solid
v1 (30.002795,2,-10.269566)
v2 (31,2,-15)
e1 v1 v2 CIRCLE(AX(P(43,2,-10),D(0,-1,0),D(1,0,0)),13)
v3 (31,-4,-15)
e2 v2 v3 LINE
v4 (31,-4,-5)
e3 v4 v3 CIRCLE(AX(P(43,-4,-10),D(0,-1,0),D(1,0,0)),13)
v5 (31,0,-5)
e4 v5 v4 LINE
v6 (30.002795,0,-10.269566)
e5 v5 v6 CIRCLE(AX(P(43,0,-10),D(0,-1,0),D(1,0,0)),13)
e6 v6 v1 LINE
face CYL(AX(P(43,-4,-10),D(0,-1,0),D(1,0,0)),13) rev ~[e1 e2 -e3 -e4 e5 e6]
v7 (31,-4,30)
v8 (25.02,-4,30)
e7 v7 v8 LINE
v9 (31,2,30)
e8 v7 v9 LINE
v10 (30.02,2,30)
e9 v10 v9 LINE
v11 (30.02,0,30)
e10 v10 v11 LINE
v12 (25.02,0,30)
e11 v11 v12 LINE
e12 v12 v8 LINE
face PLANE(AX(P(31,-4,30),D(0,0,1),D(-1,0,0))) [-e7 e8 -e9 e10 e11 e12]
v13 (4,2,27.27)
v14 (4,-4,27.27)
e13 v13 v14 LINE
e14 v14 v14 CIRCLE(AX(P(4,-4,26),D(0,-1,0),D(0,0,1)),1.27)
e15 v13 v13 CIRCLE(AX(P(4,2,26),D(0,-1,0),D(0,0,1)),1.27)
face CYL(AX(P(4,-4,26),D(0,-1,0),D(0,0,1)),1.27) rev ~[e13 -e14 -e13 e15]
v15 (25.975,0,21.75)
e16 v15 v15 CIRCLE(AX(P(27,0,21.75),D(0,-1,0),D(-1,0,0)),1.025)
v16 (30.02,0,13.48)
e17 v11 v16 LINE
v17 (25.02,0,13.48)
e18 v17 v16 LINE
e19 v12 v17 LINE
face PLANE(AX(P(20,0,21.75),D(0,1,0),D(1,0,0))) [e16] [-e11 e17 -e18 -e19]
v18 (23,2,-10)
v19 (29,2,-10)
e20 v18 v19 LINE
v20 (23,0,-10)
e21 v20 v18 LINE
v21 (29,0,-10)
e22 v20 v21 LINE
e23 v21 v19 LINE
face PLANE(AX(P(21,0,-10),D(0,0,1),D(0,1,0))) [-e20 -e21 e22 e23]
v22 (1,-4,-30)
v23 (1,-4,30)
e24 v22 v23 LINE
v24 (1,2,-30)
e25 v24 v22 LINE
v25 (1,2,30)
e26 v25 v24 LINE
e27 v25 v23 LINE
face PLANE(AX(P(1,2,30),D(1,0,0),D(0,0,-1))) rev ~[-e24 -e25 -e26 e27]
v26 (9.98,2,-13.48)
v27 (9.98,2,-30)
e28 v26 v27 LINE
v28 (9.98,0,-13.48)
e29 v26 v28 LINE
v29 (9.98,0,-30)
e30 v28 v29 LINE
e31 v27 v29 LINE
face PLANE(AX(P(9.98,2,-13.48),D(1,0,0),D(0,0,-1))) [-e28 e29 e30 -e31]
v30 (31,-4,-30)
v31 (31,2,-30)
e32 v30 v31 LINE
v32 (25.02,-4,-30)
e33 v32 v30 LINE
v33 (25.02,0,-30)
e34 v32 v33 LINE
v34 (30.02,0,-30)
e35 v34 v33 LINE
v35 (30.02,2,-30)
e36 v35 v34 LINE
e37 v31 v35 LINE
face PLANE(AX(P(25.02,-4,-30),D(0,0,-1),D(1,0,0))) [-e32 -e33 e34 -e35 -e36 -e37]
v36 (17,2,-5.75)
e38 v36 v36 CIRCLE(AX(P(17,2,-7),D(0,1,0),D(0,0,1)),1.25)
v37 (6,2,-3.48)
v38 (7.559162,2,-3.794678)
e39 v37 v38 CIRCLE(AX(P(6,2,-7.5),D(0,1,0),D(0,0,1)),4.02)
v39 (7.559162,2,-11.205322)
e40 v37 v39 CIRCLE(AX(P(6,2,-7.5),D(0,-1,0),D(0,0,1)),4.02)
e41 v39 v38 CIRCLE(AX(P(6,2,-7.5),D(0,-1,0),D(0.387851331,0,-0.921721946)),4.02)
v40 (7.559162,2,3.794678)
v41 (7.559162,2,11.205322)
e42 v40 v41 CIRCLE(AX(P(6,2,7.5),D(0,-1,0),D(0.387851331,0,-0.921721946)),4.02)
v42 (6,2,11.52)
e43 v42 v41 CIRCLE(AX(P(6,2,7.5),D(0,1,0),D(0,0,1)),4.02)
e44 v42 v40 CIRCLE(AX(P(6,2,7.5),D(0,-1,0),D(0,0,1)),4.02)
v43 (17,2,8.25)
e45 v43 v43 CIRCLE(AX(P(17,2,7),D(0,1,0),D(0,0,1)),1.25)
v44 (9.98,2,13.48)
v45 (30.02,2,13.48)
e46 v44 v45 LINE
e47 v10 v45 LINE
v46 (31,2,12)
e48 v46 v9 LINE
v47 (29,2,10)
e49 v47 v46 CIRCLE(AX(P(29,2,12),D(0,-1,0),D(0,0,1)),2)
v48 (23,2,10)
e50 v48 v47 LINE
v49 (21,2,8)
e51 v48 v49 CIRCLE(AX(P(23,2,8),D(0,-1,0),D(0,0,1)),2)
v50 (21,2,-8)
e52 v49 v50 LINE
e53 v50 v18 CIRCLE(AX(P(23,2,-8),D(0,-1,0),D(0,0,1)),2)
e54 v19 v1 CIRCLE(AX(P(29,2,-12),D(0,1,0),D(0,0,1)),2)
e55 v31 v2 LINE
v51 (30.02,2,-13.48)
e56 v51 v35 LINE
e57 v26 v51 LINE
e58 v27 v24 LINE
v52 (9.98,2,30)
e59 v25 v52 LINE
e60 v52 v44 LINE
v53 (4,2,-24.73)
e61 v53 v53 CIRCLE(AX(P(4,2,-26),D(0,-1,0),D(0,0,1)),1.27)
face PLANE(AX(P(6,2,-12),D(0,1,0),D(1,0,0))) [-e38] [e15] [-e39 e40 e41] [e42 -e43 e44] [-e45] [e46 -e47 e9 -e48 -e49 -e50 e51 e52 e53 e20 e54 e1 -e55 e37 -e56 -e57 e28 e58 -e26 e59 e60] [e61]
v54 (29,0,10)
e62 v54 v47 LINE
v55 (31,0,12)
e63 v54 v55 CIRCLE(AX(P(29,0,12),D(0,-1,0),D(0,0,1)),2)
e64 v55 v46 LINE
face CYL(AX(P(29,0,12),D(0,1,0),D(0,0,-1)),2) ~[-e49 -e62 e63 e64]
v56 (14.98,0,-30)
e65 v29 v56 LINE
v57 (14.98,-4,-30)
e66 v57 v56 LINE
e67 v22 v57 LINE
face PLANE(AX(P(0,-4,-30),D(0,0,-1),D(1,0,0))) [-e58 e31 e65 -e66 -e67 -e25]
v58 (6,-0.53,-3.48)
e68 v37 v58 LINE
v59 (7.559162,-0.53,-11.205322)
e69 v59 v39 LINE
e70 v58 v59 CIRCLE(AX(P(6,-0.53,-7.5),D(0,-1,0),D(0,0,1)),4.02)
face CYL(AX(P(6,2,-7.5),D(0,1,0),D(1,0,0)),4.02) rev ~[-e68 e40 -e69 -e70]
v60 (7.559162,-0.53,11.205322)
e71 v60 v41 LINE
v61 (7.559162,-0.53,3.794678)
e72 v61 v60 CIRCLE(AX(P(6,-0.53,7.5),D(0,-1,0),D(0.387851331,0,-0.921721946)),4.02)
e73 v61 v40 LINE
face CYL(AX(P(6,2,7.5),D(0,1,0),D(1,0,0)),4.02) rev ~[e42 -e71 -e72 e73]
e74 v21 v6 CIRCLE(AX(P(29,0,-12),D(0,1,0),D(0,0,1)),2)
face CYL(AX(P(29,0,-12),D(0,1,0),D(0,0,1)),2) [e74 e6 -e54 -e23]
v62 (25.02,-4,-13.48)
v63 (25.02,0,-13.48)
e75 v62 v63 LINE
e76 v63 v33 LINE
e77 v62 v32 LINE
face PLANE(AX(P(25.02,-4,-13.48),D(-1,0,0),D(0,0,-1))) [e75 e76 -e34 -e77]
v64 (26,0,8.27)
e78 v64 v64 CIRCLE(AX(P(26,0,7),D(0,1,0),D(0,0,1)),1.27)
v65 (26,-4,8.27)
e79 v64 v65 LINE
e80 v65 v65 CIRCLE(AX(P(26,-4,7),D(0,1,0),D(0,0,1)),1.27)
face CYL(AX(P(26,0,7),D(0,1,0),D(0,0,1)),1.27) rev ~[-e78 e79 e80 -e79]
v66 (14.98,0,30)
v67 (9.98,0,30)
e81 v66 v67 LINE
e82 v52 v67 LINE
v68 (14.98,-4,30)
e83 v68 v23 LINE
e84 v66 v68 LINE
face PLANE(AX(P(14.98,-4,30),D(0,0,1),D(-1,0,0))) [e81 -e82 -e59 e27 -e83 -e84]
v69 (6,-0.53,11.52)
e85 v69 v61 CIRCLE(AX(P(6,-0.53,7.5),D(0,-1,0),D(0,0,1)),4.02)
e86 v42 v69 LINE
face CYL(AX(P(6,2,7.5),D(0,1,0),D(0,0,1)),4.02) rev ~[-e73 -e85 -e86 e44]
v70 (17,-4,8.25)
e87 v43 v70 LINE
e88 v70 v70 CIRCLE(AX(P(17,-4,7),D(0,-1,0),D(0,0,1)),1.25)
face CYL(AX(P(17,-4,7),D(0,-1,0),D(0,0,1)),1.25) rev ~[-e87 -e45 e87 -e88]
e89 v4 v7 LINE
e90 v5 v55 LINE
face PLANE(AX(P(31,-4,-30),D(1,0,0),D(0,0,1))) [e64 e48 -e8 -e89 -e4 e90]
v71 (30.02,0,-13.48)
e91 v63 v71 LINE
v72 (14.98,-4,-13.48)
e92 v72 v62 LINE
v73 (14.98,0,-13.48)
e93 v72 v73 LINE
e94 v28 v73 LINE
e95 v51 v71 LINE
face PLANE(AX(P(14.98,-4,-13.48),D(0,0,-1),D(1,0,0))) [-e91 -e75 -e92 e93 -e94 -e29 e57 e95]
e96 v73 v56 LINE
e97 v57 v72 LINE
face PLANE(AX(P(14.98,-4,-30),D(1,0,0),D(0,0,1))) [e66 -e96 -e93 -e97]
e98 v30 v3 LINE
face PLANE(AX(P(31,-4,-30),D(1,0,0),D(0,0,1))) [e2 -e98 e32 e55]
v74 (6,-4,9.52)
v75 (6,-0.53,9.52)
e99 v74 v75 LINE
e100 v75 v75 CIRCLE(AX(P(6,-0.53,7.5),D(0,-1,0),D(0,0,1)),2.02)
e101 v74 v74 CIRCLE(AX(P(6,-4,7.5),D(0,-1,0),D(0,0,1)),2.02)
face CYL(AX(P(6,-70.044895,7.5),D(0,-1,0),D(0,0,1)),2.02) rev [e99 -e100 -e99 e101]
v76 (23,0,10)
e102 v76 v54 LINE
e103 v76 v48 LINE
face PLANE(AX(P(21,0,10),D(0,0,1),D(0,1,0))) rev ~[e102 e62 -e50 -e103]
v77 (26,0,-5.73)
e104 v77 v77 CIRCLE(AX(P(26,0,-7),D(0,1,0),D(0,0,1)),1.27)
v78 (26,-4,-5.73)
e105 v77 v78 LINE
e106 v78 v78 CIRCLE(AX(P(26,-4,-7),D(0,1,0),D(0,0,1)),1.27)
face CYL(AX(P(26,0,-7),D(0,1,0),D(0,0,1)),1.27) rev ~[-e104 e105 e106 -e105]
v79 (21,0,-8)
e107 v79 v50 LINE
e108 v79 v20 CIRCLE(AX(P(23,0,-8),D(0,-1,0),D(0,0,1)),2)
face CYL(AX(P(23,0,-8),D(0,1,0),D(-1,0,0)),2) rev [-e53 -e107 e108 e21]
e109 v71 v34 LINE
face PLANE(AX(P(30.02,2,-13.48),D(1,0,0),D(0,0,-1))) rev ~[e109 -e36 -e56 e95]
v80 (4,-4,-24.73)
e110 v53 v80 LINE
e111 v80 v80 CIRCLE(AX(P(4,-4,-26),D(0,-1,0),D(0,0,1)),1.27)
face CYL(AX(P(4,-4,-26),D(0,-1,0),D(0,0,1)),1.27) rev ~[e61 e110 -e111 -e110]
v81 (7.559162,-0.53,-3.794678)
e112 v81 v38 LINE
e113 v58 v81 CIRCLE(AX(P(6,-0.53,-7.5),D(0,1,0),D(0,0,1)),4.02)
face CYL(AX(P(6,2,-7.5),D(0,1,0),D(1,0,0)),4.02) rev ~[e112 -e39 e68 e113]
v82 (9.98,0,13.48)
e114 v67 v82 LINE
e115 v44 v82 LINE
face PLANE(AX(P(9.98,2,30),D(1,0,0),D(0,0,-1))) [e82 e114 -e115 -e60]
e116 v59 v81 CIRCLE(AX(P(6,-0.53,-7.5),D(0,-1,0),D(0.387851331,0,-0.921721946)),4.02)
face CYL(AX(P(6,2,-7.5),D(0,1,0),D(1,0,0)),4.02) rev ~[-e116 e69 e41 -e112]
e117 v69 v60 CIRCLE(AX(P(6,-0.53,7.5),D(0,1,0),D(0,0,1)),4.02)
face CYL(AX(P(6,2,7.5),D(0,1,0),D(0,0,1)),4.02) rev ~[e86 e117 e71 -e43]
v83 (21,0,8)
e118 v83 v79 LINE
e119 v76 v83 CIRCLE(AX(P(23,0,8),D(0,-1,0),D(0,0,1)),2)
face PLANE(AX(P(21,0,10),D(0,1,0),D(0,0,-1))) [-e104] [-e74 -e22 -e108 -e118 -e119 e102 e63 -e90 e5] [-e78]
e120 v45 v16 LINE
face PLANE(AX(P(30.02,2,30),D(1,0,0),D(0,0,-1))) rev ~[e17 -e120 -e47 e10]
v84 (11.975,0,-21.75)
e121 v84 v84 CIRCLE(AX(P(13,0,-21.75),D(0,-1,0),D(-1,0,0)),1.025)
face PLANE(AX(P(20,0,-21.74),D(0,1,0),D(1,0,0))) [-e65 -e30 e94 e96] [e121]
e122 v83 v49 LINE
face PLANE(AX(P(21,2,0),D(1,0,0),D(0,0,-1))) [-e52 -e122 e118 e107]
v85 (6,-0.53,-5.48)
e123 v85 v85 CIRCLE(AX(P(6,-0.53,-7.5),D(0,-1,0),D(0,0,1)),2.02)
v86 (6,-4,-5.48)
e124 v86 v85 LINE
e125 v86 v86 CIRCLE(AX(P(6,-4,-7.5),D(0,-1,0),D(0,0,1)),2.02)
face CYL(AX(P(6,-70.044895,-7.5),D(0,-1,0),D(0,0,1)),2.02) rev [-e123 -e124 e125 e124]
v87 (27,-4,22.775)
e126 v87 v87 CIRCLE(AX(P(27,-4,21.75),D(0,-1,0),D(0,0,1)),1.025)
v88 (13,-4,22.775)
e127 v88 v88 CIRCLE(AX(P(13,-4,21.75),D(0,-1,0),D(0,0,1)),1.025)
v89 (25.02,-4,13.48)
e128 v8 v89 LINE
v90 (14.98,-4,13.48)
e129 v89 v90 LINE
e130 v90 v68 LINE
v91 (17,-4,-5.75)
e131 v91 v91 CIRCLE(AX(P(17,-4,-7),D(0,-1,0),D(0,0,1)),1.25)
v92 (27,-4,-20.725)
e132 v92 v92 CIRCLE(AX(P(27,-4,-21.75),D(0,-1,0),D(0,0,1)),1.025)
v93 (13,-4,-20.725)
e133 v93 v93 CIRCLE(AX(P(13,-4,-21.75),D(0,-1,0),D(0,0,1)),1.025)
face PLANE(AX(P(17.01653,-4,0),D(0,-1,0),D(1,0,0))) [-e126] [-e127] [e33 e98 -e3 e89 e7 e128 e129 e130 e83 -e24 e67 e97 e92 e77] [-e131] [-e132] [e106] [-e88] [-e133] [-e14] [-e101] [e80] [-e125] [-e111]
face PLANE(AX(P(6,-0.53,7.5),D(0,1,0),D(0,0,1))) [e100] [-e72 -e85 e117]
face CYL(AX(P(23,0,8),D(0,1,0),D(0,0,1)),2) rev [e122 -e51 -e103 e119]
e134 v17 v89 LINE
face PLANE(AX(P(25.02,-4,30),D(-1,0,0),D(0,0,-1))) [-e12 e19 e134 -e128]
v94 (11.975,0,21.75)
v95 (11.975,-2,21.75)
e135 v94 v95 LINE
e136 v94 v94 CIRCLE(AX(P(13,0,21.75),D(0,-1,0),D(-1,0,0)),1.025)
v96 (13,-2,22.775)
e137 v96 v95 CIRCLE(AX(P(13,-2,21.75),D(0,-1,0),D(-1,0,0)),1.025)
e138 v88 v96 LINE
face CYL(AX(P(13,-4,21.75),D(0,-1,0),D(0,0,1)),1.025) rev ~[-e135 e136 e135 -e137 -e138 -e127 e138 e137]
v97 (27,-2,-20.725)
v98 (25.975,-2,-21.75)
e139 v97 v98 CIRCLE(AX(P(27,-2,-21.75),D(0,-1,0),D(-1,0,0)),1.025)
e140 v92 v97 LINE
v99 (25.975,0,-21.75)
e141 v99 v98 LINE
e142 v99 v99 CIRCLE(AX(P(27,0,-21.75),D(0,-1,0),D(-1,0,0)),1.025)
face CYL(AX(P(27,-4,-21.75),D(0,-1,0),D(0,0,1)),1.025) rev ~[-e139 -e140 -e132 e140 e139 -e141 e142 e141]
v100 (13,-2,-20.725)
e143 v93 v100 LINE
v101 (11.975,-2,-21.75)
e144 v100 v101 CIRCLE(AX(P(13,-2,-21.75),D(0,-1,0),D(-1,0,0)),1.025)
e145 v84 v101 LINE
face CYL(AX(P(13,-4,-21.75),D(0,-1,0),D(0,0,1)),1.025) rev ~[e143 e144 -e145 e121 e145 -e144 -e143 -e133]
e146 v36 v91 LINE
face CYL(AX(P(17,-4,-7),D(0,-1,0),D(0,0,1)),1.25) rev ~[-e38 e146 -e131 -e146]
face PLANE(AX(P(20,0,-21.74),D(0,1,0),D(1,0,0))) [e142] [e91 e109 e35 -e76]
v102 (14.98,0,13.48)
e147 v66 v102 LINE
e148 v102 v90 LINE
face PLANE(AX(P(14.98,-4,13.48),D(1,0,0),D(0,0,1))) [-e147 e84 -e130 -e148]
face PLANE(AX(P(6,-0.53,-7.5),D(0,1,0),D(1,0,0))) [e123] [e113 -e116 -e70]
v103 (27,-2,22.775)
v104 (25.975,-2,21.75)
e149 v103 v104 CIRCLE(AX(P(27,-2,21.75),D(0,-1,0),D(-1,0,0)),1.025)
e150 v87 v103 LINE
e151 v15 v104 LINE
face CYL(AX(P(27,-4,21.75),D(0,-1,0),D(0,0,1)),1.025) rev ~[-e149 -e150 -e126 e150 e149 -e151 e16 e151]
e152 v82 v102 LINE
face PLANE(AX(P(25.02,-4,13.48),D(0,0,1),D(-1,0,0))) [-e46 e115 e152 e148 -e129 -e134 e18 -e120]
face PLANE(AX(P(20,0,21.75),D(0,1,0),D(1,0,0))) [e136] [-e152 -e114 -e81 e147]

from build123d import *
from build123d.topology import SkipClean

# Parameters (mm, degrees)
EXTRUDE_1_DEPTH           = 2
EXTRUDE_2_DEPTH           = 3
SKETCH_3_W                = 16
SKETCH_3_H                = 60
EXTRUDE_3_DEPTH           = 3
CUT_EXTRUDE_1_DEPTH       = 1
SKETCH_4_W                = 10
SKETCH_4_H                = 16.5
CUT_EXTRUDE_2_DEPTH       = 69.543781629
SKETCH_6_W                = 20
SKETCH_6_H                = 16.5
CUT_EXTRUDE_4_DEPTH       = 2
SKETCH_7_R                = 1
SKETCH_7_R_2              = 4
CUT_EXTRUDE_5_DEPTH       = 3.5
SKETCH_10_R               = 4
EXTRUDE_5_DEPTH           = 2
SKETCH_11_R               = 3
CUT_EXTRUDE_6_DEPTH       = 2.5
SKETCH_12_R               = 1.75
CUT_EXTRUDE_7_DEPTH       = 2.5
SKETCH_14_R               = 1.5
CUT_EXTRUDE_8_DEPTH       = 69.543781629
SKETCH_15_R               = 1.25
CUT_EXTRUDE_9_DEPTH       = 10
SKETCH_16_R               = 1.25
CUT_EXTRUDE_10_DEPTH      = 10
SKETCH_18_W               = 10.5
SKETCH_18_H               = 30
SKETCH_18_R               = 1.5
EXTRUDE_6_DEPTH           = 2
SKETCH_19_R               = 1.75
CUT_EXTRUDE_11_DEPTH      = 5
SKETCH_20_R               = 0.9
CUT_EXTRUDE_12_DEPTH      = 69.609401688
SKETCH_22_R               = 1.75
CUT_EXTRUDE_13_DEPTH      = 5
SKETCH_23_R               = 0.9
CUT_EXTRUDE_14_DEPTH      = 69.609401688
FILLET_1_R                = 2
FILLET_2_R                = 2
EXTRUDE_7_DEPTH           = 4
SKETCH_25_R               = 1.25
CUT_EXTRUDE_15_DEPTH      = 10
SKETCH_26_W               = 20.04
SKETCH_26_H               = 16.52
CUT_EXTRUDE_16_DEPTH      = 2
SKETCH_27_W               = 10.04
SKETCH_27_H               = 16.52
CUT_EXTRUDE_17_DEPTH      = 2
CUT_EXTRUDE_18_DEPTH      = 69.689518851
CUT_EXTRUDE_18_DEPTH_BACK = 69.689518851
SKETCH_28_R               = 1.02
SKETCH_28_R_2             = 0.92
SKETCH_28_R_3             = 1.27
SKETCH_30_R               = 1.575129029
SKETCH_30_R_2             = 1.931102163
SKETCH_30_R_3             = 1.716101448
SKETCH_30_R_4             = 1.816571349
EXTRUDE_8_DEPTH           = 2
HOLE_WIZARD_M2_5_1_D      = 2.05
SKETCH_33_R               = 3.02
CUT_EXTRUDE_19_DEPTH      = 2.53
EXTRUDE_START             = 3.5
SKETCH_35_R               = 1.5
EXTRUDE_9_DEPTH           = 3.5
SKETCH_36_R               = 4.02
CUT_EXTRUDE_21_DEPTH      = 2.53
EXTRUDE_START_2           = 0.47
SKETCH_37_R               = 1.75
SKETCH_37_R_2             = 0.92
EXTRUDE_10_DEPTH          = 0.47
CUT_EXTRUDE_22_DEPTH      = 69.514895461
CUT_EXTRUDE_22_DEPTH_BACK = 69.514895461
SKETCH_38_R               = 2.02
CUT_EXTRUDE_23_DEPTH      = 69.543781629
CUT_EXTRUDE_23_DEPTH_BACK = 69.543781629
SKETCH_39_W               = 32.485674915
SKETCH_39_H               = 61.831136529
CUT_EXTRUDE_24_DEPTH      = 44.324358045
CUT_EXTRUDE_24_DEPTH_BACK = 10
SKETCH_40_W               = 20
SKETCH_40_H               = 4
EXTRUDE_START_3           = 2
SKETCH_41_R               = 1.27
SKETCH_41_R_2             = 1.025
SKETCH_41_R_3             = 1.25
EXTRUDE_11_DEPTH          = 2
FILLET_4_R                = 2
SKETCH_42_R               = 1.27
CUT_EXTRUDE_25_DEPTH      = 10
SKETCH_43_W               = 1
SKETCH_43_H               = 60
CUT_EXTRUDE_26_DEPTH      = 10
SKETCH_44_R               = 13
CUT_EXTRUDE_27_DEPTH      = 10
EXTRUDE_START_4           = 4.53
SKETCH_45_R               = 1.75
EXTRUDE_12_DEPTH          = 6
SKETCH_46_R               = 4.02
CUT_EXTRUDE_28_DEPTH      = 2.53


with BuildPart() as part:
    # 草图1 → 凸台-拉伸1 (new body)
    with BuildSketch(Plane(origin=(0, 0, 0), x_dir=(1, 0, 0), z_dir=(0, 1, 0))):
        with BuildLine():
            Line((43, 1.5), (58.456841673, 3.534931811))
            ThreePointArc((58.456841673, 3.534931811), (61.401458892, 6.180320766), (59.995303837, 9.880534443))
            Line((59.995303837, 9.880534443), (31, 30))
            Line((31, 30), (10, 30))
            Line((10, 30), (0, 15))
            Line((0, 15), (0, -15))
            Line((0, -15), (10, -30))
            Line((10, -30), (31, -30))
            Line((31, -30), (59.995303837, -9.880534443))
            ThreePointArc((59.995303837, -9.880534443), (61.401458892, -6.180320766), (58.456841673, -3.534931811))
            Line((58.456841673, -3.534931811), (43, -1.5))
            Line((43, -1.5), (40, -1.5))
            Line((40, -1.5), (40, 1.5))
            Line((40, 1.5), (43, 1.5))
        make_face()
    extrude(amount=EXTRUDE_1_DEPTH)

    # 草图2 → 凸台-拉伸2 (add)
    with BuildSketch(Plane.XZ):
        Polygon((15, -30), (15, 30), (10, 30), (0, 15), (0, -15), (10, -30), align=None)
    extrude(amount=EXTRUDE_2_DEPTH)

    # 草图3 → 凸台-拉伸3 (add)
    with BuildSketch(Plane.XZ):
        with Locations((23, 0)):
            Rectangle(SKETCH_3_W, SKETCH_3_H)
    extrude(amount=EXTRUDE_3_DEPTH)

    # 草图5 → 切除-拉伸1 (cut)
    with BuildSketch(Plane.XZ.offset(3)):
        Polygon((10, -30), (31, -30), (31, 30), (10, 30), (0, 15), (0, -15), align=None)
    extrude(amount=-CUT_EXTRUDE_1_DEPTH, mode=Mode.SUBTRACT)

    # 草图4 → 切除-拉伸2 (cut, through all)
    with BuildSketch(Plane(origin=(0, 2, 0), x_dir=(1, 0, 0), z_dir=(0, 1, 0))):
        with Locations((20, -21.75)):
            Rectangle(SKETCH_4_W, SKETCH_4_H)
        with Locations((20, 21.75)):
            Rectangle(SKETCH_4_W, SKETCH_4_H)
    extrude(amount=-CUT_EXTRUDE_2_DEPTH, mode=Mode.SUBTRACT)

    # 草图6 → 切除-拉伸4 (cut)
    with BuildSketch(Plane(origin=(0, 2, 0), x_dir=(1, 0, 0), z_dir=(0, 1, 0))):
        with Locations((20, 21.75)):
            Rectangle(SKETCH_6_W, SKETCH_6_H)
        with Locations((20, -21.75)):
            Rectangle(SKETCH_6_W, SKETCH_6_H)
    extrude(amount=-CUT_EXTRUDE_4_DEPTH, mode=Mode.SUBTRACT)

    # 草图7 → 切除-拉伸5 (cut)
    with BuildSketch(Plane(origin=(0, 2, 0), x_dir=(1, 0, 0), z_dir=(0, 1, 0))):
        with Locations(Location((58, 7.004988826, 0), (0, 0, 270))):
            Circle(SKETCH_7_R)
        with Locations(Location((58, -7.004988826, 0), (0, 0, 270))):
            Circle(SKETCH_7_R)
        with Locations(Location((43, -6, 0), (0, 0, 270))):
            Circle(SKETCH_7_R)
        with Locations(Location((43, 6, 0), (0, 0, 270))):
            Circle(SKETCH_7_R)
        with Locations(Location((6, 7.5, 0), (0, 0, 270))):
            Circle(SKETCH_7_R_2)
        with Locations(Location((6, -7.5, 0), (0, 0, 270))):
            Circle(SKETCH_7_R_2)
    extrude(amount=-CUT_EXTRUDE_5_DEPTH, mode=Mode.SUBTRACT)

    # 草图10 → 凸台-拉伸5 (add)
    with BuildSketch(Plane.XZ):
        with Locations(Location((43, 6, 0), (0, 0, 270))):
            Circle(SKETCH_10_R)
    extrude(amount=EXTRUDE_5_DEPTH)

    # 草图11 → 切除-拉伸6 (cut)
    with BuildSketch(Plane(origin=(0, 2, 0), x_dir=(1, 0, 0), z_dir=(0, 1, 0))):
        with Locations(Location((43, -6, 0), (0, 0, 270))):
            Circle(SKETCH_11_R)
    extrude(amount=-CUT_EXTRUDE_6_DEPTH, mode=Mode.SUBTRACT)

    # 草图12 → 切除-拉伸7 (cut)
    with BuildSketch(Plane(origin=(0, -0.5, 0), x_dir=(1, 0, 0), z_dir=(0, 1, 0))):
        with Locations(Location((43, -6, 0), (0, 0, 270))):
            Circle(SKETCH_12_R)
    extrude(amount=-CUT_EXTRUDE_7_DEPTH, mode=Mode.SUBTRACT)

    # 草图14 → 切除-拉伸8 (cut, through all)
    with BuildSketch(Plane(origin=(0, 2, 0), x_dir=(1, 0, 0), z_dir=(0, 1, 0))):
        with Locations(Location((6, 7.5, 0), (0, 0, 270))):
            Circle(SKETCH_14_R)
        with Locations(Location((6, -7.5, 0), (0, 0, 270))):
            Circle(SKETCH_14_R)
    extrude(amount=-CUT_EXTRUDE_8_DEPTH, mode=Mode.SUBTRACT)

    # 草图15 → 切除-拉伸9 (cut)
    with BuildSketch(Plane(origin=(0, 0, 0), x_dir=(1, 0, 0), z_dir=(0, 1, 0))):
        with Locations(Location((13, 21.75, 0), (0, 0, 270))):
            Circle(SKETCH_15_R)
        with Locations(Location((27, 21.75, 0), (0, 0, 270))):
            Circle(SKETCH_15_R)
        with Locations(Location((27, -21.75, 0), (0, 0, 270))):
            Circle(SKETCH_15_R)
        with Locations(Location((13, -21.75, 0), (0, 0, 270))):
            Circle(SKETCH_15_R)
    extrude(amount=-CUT_EXTRUDE_9_DEPTH, mode=Mode.SUBTRACT)

    # 草图16 → 切除-拉伸10 (cut)
    with BuildSketch(Plane(origin=(0, 2, 0), x_dir=(1, 0, 0), z_dir=(0, 1, 0))):
        with Locations(Location((17, -7, 0), (0, 0, 270))):
            Circle(SKETCH_16_R)
        with Locations(Location((17, 7, 0), (0, 0, 270))):
            Circle(SKETCH_16_R)
        with Locations(Location((37, 16, 0), (0, 0, 270))):
            Circle(SKETCH_16_R)
        with Locations(Location((37, -16, 0), (0, 0, 270))):
            Circle(SKETCH_16_R)
    extrude(amount=-CUT_EXTRUDE_10_DEPTH, mode=Mode.SUBTRACT)

    # 草图18 → 凸台-拉伸6 (add)
    with BuildSketch(Plane.XZ.offset(2)):
        with Locations((5.25, 0)):
            Rectangle(SKETCH_18_W, SKETCH_18_H)
        with Locations(Location((6, 7.5, 0), (0, 0, 90))):
            Circle(SKETCH_18_R, mode=Mode.SUBTRACT)
        with Locations(Location((6, -7.5, 0), (0, 0, 90))):
            Circle(SKETCH_18_R, mode=Mode.SUBTRACT)
    extrude(amount=EXTRUDE_6_DEPTH)

    # 草图19 → 切除-拉伸11 (cut)
    with BuildSketch(Plane(origin=(0, 2, 0), x_dir=(1, 0, 0), z_dir=(0, 1, 0))):
        with Locations(Location((6, 12, 0), (0, 0, 270))):
            Circle(SKETCH_19_R)
        with Locations(Location((6, 3, 0), (0, 0, 270))):
            Circle(SKETCH_19_R)
    extrude(amount=-CUT_EXTRUDE_11_DEPTH, mode=Mode.SUBTRACT)

    # 草图20 → 切除-拉伸12 (cut, through all)
    with BuildSketch(Plane(origin=(0, -3, 0), x_dir=(1, 0, 0), z_dir=(0, 1, 0))):
        with Locations(Location((6, 12, 0), (0, 0, 270))):
            Circle(SKETCH_20_R)
        with Locations(Location((6, 3, 0), (0, 0, 270))):
            Circle(SKETCH_20_R)
    extrude(amount=-CUT_EXTRUDE_12_DEPTH, mode=Mode.SUBTRACT)

    # 草图22 → 切除-拉伸13 (cut)
    with BuildSketch(Plane(origin=(0, 2, 0), x_dir=(1, 0, 0), z_dir=(0, 1, 0))):
        with Locations(Location((6, -3, 0), (0, 0, 270))):
            Circle(SKETCH_22_R)
        with Locations(Location((6, -12, 0), (0, 0, 270))):
            Circle(SKETCH_22_R)
    extrude(amount=-CUT_EXTRUDE_13_DEPTH, mode=Mode.SUBTRACT)

    # 草图23 → 切除-拉伸14 (cut, through all)
    with BuildSketch(Plane(origin=(0, -3, 0), x_dir=(1, 0, 0), z_dir=(0, 1, 0))):
        with Locations(Location((6, -3, 0), (0, 0, 270))):
            Circle(SKETCH_23_R)
        with Locations(Location((6, -12, 0), (0, 0, 270))):
            Circle(SKETCH_23_R)
    extrude(amount=-CUT_EXTRUDE_14_DEPTH, mode=Mode.SUBTRACT)

    # 圆角1
    fillet_1_edges = [part.edges().sort_by_distance(p)[0] for p in [
        (10.5, -3, 15),
    ]]
    fillet(fillet_1_edges, radius=FILLET_1_R)

    # 圆角2
    fillet_2_edges = [part.edges().sort_by_distance(p)[0] for p in [
        (10.5, -3, -15),
    ]]
    fillet(fillet_2_edges, radius=FILLET_2_R)

    # 草图24 → 凸台-拉伸7 (add)
    with BuildSketch(Plane(origin=(0, 2, 0), x_dir=(1, 0, 0), z_dir=(0, 1, 0))):
        Polygon((10, 30), (0, 30), (0, 15), align=None)
        Polygon((0, -15), (0, -30), (10, -30), align=None)
    extrude(amount=-EXTRUDE_7_DEPTH)

    # 草图25 → 切除-拉伸15 (cut)
    with BuildSketch(Plane(origin=(0, 2, 0), x_dir=(1, 0, 0), z_dir=(0, 1, 0))):
        with Locations(Location((4, 26, 0), (0, 0, 270))):
            Circle(SKETCH_25_R)
        with Locations(Location((4, -26, 0), (0, 0, 270))):
            Circle(SKETCH_25_R)
    extrude(amount=-CUT_EXTRUDE_15_DEPTH, mode=Mode.SUBTRACT)

    # 草图26 → 切除-拉伸16 (cut)
    with BuildSketch(Plane(origin=(0, 2, 0), x_dir=(1, 0, 0), z_dir=(0, 1, 0))):
        with Locations((20, 21.74)):
            Rectangle(SKETCH_26_W, SKETCH_26_H)
        with Locations((20, -21.74)):
            Rectangle(SKETCH_26_W, SKETCH_26_H)
    extrude(amount=-CUT_EXTRUDE_16_DEPTH, mode=Mode.SUBTRACT)

    # 草图27 → 切除-拉伸17 (cut)
    with BuildSketch(Plane(origin=(0, 0, 0), x_dir=(1, 0, 0), z_dir=(0, 1, 0))):
        with Locations((20, 21.74)):
            Rectangle(SKETCH_27_W, SKETCH_27_H)
        with Locations((20, -21.74)):
            Rectangle(SKETCH_27_W, SKETCH_27_H)
    extrude(amount=-CUT_EXTRUDE_17_DEPTH, mode=Mode.SUBTRACT)

    # 草图28 → 切除-拉伸18 (cut, two sides: drawn at the far end of the back side and taken through both)
    with BuildSketch(Plane(origin=(0, 2, 0), x_dir=(1, 0, 0), z_dir=(0, 1, 0)).offset(-CUT_EXTRUDE_18_DEPTH_BACK)):
        with Locations(Location((43, 6, 0), (0, 0, 90))):
            Circle(SKETCH_28_R)
        with Locations(Location((58, 7.004988826, 0), (0, 0, 90))):
            Circle(SKETCH_28_R)
        with Locations(Location((58, -7.004988826, 0), (0, 0, 90))):
            Circle(SKETCH_28_R)
        with Locations(Location((6, 12, 0), (0, 0, 270))):
            Circle(SKETCH_28_R_2)
        with Locations(Location((6, 3, 0), (0, 0, 270))):
            Circle(SKETCH_28_R_2)
        with Locations(Location((6, -3, 0), (0, 0, 270))):
            Circle(SKETCH_28_R_2)
        with Locations(Location((6, -12, 0), (0, 0, 270))):
            Circle(SKETCH_28_R_2)
        with Locations(Location((4, 26, 0), (0, 0, 270))):
            Circle(SKETCH_28_R_3)
        with Locations(Location((4, -26, 0), (0, 0, 270))):
            Circle(SKETCH_28_R_3)
    extrude(amount=CUT_EXTRUDE_18_DEPTH + CUT_EXTRUDE_18_DEPTH_BACK, mode=Mode.SUBTRACT)

    # 草图30 → 凸台-拉伸8 (add)
    with BuildSketch(Plane(origin=(0, 0, 0), x_dir=(1, 0, 0), z_dir=(0, 1, 0))):
        with Locations((13, 21.75)):
            Circle(SKETCH_30_R)
        with Locations((27, 21.75)):
            Circle(SKETCH_30_R_2)
        with Locations((27, -21.75)):
            Circle(SKETCH_30_R_3)
        with Locations((13, -21.75)):
            Circle(SKETCH_30_R_4)
    extrude(amount=-EXTRUDE_8_DEPTH)

    # M2.5 螺纹孔1 (through all)
    with Locations(Plane(origin=(0, 0, 0), x_dir=(1, 0, 0), z_dir=(0, 1, 0))):
        with Locations((13, 21.75), (27, 21.75), (27, -21.75), (13, -21.75)):
            Hole(HOLE_WIZARD_M2_5_1_D / 2)

    # 草图33 → 切除-拉伸19 (cut)
    with BuildSketch(Plane(origin=(0, 2, 0), x_dir=(1, 0, 0), z_dir=(0, 1, 0))):
        with Locations(Location((43, -6, 0), (0, 0, 270))):
            Circle(SKETCH_33_R)
    extrude(amount=-CUT_EXTRUDE_19_DEPTH, mode=Mode.SUBTRACT)

    # 草图35 → 凸台-拉伸9 (add)
    # profile 1 of 2: a face of its own
    with SkipClean():  # the faces are left unmerged after this step: merging them gives an invalid solid
        with BuildSketch(Plane(origin=(0, -1.5, 0), x_dir=(1, 0, 0), z_dir=(0, 1, 0)).offset(EXTRUDE_START)):
            with BuildLine():
                ThreePointArc((4.450050404, -3.8125), (6, -4.75), (7.549949596, -3.8125))
                ThreePointArc((7.549949596, -3.8125), (10, -7.5), (7.549949596, -11.1875))
                ThreePointArc((7.549949596, -11.1875), (6, -10.25), (4.450050404, -11.1875))
                ThreePointArc((4.450050404, -11.1875), (2, -7.5), (4.450050404, -3.8125))
            make_face()
            with Locations(Location((6, -7.5, 0), (0, 0, 90))):
                Circle(SKETCH_35_R, mode=Mode.SUBTRACT)
        # profile 2 of 2: a face of its own
        with BuildSketch(Plane(origin=(0, -1.5, 0), x_dir=(1, 0, 0), z_dir=(0, 1, 0)).offset(EXTRUDE_START)):
            with BuildLine():
                ThreePointArc((4.450050404, 11.1875), (6, 10.25), (7.549949596, 11.1875))
                ThreePointArc((7.549949596, 11.1875), (10, 7.5), (7.549949596, 3.8125))
                ThreePointArc((7.549949596, 3.8125), (6, 4.75), (4.450050404, 3.8125))
                ThreePointArc((4.450050404, 3.8125), (2, 7.5), (4.450050404, 11.1875))
            make_face()
            with Locations(Location((6, 7.5, 0), (0, 0, 90))):
                Circle(SKETCH_35_R, mode=Mode.SUBTRACT)
        extrude(amount=-EXTRUDE_9_DEPTH)

    # 草图36 → 切除-拉伸21 (cut)
    with SkipClean():  # the faces are left unmerged after this step: merging them gives an invalid solid
        with BuildSketch(Plane(origin=(0, 2, 0), x_dir=(1, 0, 0), z_dir=(0, 1, 0))):
            with Locations((6, 7.5)):
                Circle(SKETCH_36_R)
            with Locations((6, -7.5)):
                Circle(SKETCH_36_R)
        extrude(amount=-CUT_EXTRUDE_21_DEPTH, mode=Mode.SUBTRACT)

    # 草图37 → 凸台-拉伸10 (add)
    # profile 1 of 4: a face of its own
    with SkipClean():  # the faces are left unmerged after this step: merging them gives an invalid solid
        with BuildSketch(Plane(origin=(0, -3, 0), x_dir=(1, 0, 0), z_dir=(0, 1, 0)).offset(EXTRUDE_START_2)):
            with Locations(Location((6, 12, 0), (0, 0, 270))):
                Circle(SKETCH_37_R)
            with Locations(Location((6, 12, 0), (0, 0, 270))):
                Circle(SKETCH_37_R_2, mode=Mode.SUBTRACT)
        # profile 2 of 4: a face of its own
        with BuildSketch(Plane(origin=(0, -3, 0), x_dir=(1, 0, 0), z_dir=(0, 1, 0)).offset(EXTRUDE_START_2)):
            with Locations(Location((6, 3, 0), (0, 0, 270))):
                Circle(SKETCH_37_R)
            with Locations(Location((6, 3, 0), (0, 0, 270))):
                Circle(SKETCH_37_R_2, mode=Mode.SUBTRACT)
        # profile 3 of 4: a face of its own
        with BuildSketch(Plane(origin=(0, -3, 0), x_dir=(1, 0, 0), z_dir=(0, 1, 0)).offset(EXTRUDE_START_2)):
            with Locations(Location((6, -3, 0), (0, 0, 270))):
                Circle(SKETCH_37_R)
            with Locations(Location((6, -3, 0), (0, 0, 270))):
                Circle(SKETCH_37_R_2, mode=Mode.SUBTRACT)
        # profile 4 of 4: a face of its own
        with BuildSketch(Plane(origin=(0, -3, 0), x_dir=(1, 0, 0), z_dir=(0, 1, 0)).offset(EXTRUDE_START_2)):
            with Locations(Location((6, -12, 0), (0, 0, 270))):
                Circle(SKETCH_37_R)
            with Locations(Location((6, -12, 0), (0, 0, 270))):
                Circle(SKETCH_37_R_2, mode=Mode.SUBTRACT)
        extrude(amount=-EXTRUDE_10_DEPTH)

    # 草图38 → 切除-拉伸22 (cut, two sides: drawn at the far end of the back side and taken through both)
    with BuildSketch(Plane(origin=(0, -0.53, 0), x_dir=(1, 0, 0), z_dir=(0, 1, 0)).offset(-CUT_EXTRUDE_22_DEPTH_BACK)):
        with Locations(Location((6, 7.5, 0), (0, 0, 270))):
            Circle(SKETCH_38_R)
        with Locations(Location((6, -7.5, 0), (0, 0, 270))):
            Circle(SKETCH_38_R)
    extrude(amount=CUT_EXTRUDE_22_DEPTH + CUT_EXTRUDE_22_DEPTH_BACK, mode=Mode.SUBTRACT)

    # 草图39 → 切除-拉伸23 (cut, two sides: drawn at the far end of the back side and taken through both)
    with BuildSketch(Plane.XZ.offset(-CUT_EXTRUDE_23_DEPTH_BACK)):
        with Locations((47.242837458, 0.915568264)):
            Rectangle(SKETCH_39_W, SKETCH_39_H)
    extrude(amount=CUT_EXTRUDE_23_DEPTH + CUT_EXTRUDE_23_DEPTH_BACK, mode=Mode.SUBTRACT)

    # 草图40 → 切除-拉伸24 (cut, two sides: drawn at the far end of the back side and taken through both)
    with BuildSketch(Plane(origin=(31, 0, 0), x_dir=(0, 0, -1), z_dir=(1, 0, 0)).offset(-CUT_EXTRUDE_24_DEPTH_BACK)):
        with Locations((0, 2)):
            Rectangle(SKETCH_40_W, SKETCH_40_H)
    extrude(amount=CUT_EXTRUDE_24_DEPTH + CUT_EXTRUDE_24_DEPTH_BACK, mode=Mode.SUBTRACT)

    # 草图41 → 凸台-拉伸11 (add)
    with BuildSketch(Plane.XZ.offset(2).offset(EXTRUDE_START_3)):
        with BuildLine():
            Line((31, 30), (25.02, 30))
            Line((25.02, 30), (25.02, 13.48))
            Line((25.02, 13.48), (14.98, 13.48))
            Line((14.98, 13.48), (14.98, 30))
            Line((14.98, 30), (0, 30))
            Line((0, 30), (0, 15))
            Line((0, 15), (8.5, 15))
            ThreePointArc((8.5, 15), (9.914213562, 14.414213562), (10.5, 13))
            Line((10.5, 13), (10.5, -13))
            ThreePointArc((10.5, -13), (9.914213562, -14.414213562), (8.5, -15))
            Line((8.5, -15), (0, -15))
            Line((0, -15), (0, -30))
            Line((0, -30), (14.98, -30))
            Line((14.98, -30), (14.98, -13.48))
            Line((14.98, -13.48), (25.02, -13.48))
            Line((25.02, -13.48), (25.02, -30))
            Line((25.02, -30), (31, -30))
            Line((31, -30), (31, 30))
        make_face()
        with Locations(Location((4, -26, 0), (0, 0, 90))):
            Circle(SKETCH_41_R, mode=Mode.SUBTRACT)
        with Locations(Location((13, -21.75, 0), (0, 0, 90))):
            Circle(SKETCH_41_R_2, mode=Mode.SUBTRACT)
        with Locations(Location((27, -21.75, 0), (0, 0, 90))):
            Circle(SKETCH_41_R_2, mode=Mode.SUBTRACT)
        with Locations(Location((17, -7, 0), (0, 0, 90))):
            Circle(SKETCH_41_R_3, mode=Mode.SUBTRACT)
        with Locations(Location((17, 7, 0), (0, 0, 90))):
            Circle(SKETCH_41_R_3, mode=Mode.SUBTRACT)
        with Locations(Location((27, 21.75, 0), (0, 0, 90))):
            Circle(SKETCH_41_R_2, mode=Mode.SUBTRACT)
        with Locations(Location((13, 21.75, 0), (0, 0, 90))):
            Circle(SKETCH_41_R_2, mode=Mode.SUBTRACT)
        with Locations(Location((4, 26, 0), (0, 0, 90))):
            Circle(SKETCH_41_R, mode=Mode.SUBTRACT)
    extrude(amount=-EXTRUDE_11_DEPTH)

    # 圆角4
    fillet_4_edges = [part.edges().sort_by_distance(p)[0] for p in [
        (31, 1, 10),
        (31, 1, -10),
        (21, 1, -10),
        (21, 1, 10),
    ]]
    fillet(fillet_4_edges, radius=FILLET_4_R)

    # 草图42 → 切除-拉伸25 (cut)
    with BuildSketch(Plane(origin=(0, 0, 0), x_dir=(1, 0, 0), z_dir=(0, 1, 0))):
        with Locations(Location((26, 7, 0), (0, 0, 270))):
            Circle(SKETCH_42_R)
        with Locations(Location((26, -7, 0), (0, 0, 270))):
            Circle(SKETCH_42_R)
    extrude(amount=-CUT_EXTRUDE_25_DEPTH, mode=Mode.SUBTRACT)

    # 草图43 → 切除-拉伸26 (cut)
    with BuildSketch(Plane(origin=(0, 2, 0), x_dir=(1, 0, 0), z_dir=(0, 1, 0))):
        with Locations((0.5, 0)):
            Rectangle(SKETCH_43_W, SKETCH_43_H)
    extrude(amount=-CUT_EXTRUDE_26_DEPTH, mode=Mode.SUBTRACT)

    # 草图44 → 切除-拉伸27 (cut)
    with BuildSketch(Plane.XZ.offset(4)):
        with Locations((43, -10)):
            Circle(SKETCH_44_R)
    extrude(amount=-CUT_EXTRUDE_27_DEPTH, mode=Mode.SUBTRACT)

    # 草图45 → 凸台-拉伸12 (add)
    with BuildSketch(Plane(origin=(0, -2.53, 0), x_dir=(1, 0, 0), z_dir=(0, 1, 0)).offset(EXTRUDE_START_4)):
        with Locations((6, 12)):
            Circle(SKETCH_45_R)
        with Locations((6, 3)):
            Circle(SKETCH_45_R)
        with Locations((6, -3)):
            Circle(SKETCH_45_R)
        with Locations((6, -12)):
            Circle(SKETCH_45_R)
    extrude(amount=-EXTRUDE_12_DEPTH)

    # 草图46 → 切除-拉伸28 (cut)
    with BuildSketch(Plane(origin=(0, 2, 0), x_dir=(1, 0, 0), z_dir=(0, 1, 0))):
        with Locations(Location((6, 7.5, 0), (0, 0, 270))):
            Circle(SKETCH_46_R)
        with Locations(Location((6, -7.5, 0), (0, 0, 270))):
            Circle(SKETCH_46_R)
    extrude(amount=-CUT_EXTRUDE_28_DEPTH, mode=Mode.SUBTRACT)


solid = part.part
